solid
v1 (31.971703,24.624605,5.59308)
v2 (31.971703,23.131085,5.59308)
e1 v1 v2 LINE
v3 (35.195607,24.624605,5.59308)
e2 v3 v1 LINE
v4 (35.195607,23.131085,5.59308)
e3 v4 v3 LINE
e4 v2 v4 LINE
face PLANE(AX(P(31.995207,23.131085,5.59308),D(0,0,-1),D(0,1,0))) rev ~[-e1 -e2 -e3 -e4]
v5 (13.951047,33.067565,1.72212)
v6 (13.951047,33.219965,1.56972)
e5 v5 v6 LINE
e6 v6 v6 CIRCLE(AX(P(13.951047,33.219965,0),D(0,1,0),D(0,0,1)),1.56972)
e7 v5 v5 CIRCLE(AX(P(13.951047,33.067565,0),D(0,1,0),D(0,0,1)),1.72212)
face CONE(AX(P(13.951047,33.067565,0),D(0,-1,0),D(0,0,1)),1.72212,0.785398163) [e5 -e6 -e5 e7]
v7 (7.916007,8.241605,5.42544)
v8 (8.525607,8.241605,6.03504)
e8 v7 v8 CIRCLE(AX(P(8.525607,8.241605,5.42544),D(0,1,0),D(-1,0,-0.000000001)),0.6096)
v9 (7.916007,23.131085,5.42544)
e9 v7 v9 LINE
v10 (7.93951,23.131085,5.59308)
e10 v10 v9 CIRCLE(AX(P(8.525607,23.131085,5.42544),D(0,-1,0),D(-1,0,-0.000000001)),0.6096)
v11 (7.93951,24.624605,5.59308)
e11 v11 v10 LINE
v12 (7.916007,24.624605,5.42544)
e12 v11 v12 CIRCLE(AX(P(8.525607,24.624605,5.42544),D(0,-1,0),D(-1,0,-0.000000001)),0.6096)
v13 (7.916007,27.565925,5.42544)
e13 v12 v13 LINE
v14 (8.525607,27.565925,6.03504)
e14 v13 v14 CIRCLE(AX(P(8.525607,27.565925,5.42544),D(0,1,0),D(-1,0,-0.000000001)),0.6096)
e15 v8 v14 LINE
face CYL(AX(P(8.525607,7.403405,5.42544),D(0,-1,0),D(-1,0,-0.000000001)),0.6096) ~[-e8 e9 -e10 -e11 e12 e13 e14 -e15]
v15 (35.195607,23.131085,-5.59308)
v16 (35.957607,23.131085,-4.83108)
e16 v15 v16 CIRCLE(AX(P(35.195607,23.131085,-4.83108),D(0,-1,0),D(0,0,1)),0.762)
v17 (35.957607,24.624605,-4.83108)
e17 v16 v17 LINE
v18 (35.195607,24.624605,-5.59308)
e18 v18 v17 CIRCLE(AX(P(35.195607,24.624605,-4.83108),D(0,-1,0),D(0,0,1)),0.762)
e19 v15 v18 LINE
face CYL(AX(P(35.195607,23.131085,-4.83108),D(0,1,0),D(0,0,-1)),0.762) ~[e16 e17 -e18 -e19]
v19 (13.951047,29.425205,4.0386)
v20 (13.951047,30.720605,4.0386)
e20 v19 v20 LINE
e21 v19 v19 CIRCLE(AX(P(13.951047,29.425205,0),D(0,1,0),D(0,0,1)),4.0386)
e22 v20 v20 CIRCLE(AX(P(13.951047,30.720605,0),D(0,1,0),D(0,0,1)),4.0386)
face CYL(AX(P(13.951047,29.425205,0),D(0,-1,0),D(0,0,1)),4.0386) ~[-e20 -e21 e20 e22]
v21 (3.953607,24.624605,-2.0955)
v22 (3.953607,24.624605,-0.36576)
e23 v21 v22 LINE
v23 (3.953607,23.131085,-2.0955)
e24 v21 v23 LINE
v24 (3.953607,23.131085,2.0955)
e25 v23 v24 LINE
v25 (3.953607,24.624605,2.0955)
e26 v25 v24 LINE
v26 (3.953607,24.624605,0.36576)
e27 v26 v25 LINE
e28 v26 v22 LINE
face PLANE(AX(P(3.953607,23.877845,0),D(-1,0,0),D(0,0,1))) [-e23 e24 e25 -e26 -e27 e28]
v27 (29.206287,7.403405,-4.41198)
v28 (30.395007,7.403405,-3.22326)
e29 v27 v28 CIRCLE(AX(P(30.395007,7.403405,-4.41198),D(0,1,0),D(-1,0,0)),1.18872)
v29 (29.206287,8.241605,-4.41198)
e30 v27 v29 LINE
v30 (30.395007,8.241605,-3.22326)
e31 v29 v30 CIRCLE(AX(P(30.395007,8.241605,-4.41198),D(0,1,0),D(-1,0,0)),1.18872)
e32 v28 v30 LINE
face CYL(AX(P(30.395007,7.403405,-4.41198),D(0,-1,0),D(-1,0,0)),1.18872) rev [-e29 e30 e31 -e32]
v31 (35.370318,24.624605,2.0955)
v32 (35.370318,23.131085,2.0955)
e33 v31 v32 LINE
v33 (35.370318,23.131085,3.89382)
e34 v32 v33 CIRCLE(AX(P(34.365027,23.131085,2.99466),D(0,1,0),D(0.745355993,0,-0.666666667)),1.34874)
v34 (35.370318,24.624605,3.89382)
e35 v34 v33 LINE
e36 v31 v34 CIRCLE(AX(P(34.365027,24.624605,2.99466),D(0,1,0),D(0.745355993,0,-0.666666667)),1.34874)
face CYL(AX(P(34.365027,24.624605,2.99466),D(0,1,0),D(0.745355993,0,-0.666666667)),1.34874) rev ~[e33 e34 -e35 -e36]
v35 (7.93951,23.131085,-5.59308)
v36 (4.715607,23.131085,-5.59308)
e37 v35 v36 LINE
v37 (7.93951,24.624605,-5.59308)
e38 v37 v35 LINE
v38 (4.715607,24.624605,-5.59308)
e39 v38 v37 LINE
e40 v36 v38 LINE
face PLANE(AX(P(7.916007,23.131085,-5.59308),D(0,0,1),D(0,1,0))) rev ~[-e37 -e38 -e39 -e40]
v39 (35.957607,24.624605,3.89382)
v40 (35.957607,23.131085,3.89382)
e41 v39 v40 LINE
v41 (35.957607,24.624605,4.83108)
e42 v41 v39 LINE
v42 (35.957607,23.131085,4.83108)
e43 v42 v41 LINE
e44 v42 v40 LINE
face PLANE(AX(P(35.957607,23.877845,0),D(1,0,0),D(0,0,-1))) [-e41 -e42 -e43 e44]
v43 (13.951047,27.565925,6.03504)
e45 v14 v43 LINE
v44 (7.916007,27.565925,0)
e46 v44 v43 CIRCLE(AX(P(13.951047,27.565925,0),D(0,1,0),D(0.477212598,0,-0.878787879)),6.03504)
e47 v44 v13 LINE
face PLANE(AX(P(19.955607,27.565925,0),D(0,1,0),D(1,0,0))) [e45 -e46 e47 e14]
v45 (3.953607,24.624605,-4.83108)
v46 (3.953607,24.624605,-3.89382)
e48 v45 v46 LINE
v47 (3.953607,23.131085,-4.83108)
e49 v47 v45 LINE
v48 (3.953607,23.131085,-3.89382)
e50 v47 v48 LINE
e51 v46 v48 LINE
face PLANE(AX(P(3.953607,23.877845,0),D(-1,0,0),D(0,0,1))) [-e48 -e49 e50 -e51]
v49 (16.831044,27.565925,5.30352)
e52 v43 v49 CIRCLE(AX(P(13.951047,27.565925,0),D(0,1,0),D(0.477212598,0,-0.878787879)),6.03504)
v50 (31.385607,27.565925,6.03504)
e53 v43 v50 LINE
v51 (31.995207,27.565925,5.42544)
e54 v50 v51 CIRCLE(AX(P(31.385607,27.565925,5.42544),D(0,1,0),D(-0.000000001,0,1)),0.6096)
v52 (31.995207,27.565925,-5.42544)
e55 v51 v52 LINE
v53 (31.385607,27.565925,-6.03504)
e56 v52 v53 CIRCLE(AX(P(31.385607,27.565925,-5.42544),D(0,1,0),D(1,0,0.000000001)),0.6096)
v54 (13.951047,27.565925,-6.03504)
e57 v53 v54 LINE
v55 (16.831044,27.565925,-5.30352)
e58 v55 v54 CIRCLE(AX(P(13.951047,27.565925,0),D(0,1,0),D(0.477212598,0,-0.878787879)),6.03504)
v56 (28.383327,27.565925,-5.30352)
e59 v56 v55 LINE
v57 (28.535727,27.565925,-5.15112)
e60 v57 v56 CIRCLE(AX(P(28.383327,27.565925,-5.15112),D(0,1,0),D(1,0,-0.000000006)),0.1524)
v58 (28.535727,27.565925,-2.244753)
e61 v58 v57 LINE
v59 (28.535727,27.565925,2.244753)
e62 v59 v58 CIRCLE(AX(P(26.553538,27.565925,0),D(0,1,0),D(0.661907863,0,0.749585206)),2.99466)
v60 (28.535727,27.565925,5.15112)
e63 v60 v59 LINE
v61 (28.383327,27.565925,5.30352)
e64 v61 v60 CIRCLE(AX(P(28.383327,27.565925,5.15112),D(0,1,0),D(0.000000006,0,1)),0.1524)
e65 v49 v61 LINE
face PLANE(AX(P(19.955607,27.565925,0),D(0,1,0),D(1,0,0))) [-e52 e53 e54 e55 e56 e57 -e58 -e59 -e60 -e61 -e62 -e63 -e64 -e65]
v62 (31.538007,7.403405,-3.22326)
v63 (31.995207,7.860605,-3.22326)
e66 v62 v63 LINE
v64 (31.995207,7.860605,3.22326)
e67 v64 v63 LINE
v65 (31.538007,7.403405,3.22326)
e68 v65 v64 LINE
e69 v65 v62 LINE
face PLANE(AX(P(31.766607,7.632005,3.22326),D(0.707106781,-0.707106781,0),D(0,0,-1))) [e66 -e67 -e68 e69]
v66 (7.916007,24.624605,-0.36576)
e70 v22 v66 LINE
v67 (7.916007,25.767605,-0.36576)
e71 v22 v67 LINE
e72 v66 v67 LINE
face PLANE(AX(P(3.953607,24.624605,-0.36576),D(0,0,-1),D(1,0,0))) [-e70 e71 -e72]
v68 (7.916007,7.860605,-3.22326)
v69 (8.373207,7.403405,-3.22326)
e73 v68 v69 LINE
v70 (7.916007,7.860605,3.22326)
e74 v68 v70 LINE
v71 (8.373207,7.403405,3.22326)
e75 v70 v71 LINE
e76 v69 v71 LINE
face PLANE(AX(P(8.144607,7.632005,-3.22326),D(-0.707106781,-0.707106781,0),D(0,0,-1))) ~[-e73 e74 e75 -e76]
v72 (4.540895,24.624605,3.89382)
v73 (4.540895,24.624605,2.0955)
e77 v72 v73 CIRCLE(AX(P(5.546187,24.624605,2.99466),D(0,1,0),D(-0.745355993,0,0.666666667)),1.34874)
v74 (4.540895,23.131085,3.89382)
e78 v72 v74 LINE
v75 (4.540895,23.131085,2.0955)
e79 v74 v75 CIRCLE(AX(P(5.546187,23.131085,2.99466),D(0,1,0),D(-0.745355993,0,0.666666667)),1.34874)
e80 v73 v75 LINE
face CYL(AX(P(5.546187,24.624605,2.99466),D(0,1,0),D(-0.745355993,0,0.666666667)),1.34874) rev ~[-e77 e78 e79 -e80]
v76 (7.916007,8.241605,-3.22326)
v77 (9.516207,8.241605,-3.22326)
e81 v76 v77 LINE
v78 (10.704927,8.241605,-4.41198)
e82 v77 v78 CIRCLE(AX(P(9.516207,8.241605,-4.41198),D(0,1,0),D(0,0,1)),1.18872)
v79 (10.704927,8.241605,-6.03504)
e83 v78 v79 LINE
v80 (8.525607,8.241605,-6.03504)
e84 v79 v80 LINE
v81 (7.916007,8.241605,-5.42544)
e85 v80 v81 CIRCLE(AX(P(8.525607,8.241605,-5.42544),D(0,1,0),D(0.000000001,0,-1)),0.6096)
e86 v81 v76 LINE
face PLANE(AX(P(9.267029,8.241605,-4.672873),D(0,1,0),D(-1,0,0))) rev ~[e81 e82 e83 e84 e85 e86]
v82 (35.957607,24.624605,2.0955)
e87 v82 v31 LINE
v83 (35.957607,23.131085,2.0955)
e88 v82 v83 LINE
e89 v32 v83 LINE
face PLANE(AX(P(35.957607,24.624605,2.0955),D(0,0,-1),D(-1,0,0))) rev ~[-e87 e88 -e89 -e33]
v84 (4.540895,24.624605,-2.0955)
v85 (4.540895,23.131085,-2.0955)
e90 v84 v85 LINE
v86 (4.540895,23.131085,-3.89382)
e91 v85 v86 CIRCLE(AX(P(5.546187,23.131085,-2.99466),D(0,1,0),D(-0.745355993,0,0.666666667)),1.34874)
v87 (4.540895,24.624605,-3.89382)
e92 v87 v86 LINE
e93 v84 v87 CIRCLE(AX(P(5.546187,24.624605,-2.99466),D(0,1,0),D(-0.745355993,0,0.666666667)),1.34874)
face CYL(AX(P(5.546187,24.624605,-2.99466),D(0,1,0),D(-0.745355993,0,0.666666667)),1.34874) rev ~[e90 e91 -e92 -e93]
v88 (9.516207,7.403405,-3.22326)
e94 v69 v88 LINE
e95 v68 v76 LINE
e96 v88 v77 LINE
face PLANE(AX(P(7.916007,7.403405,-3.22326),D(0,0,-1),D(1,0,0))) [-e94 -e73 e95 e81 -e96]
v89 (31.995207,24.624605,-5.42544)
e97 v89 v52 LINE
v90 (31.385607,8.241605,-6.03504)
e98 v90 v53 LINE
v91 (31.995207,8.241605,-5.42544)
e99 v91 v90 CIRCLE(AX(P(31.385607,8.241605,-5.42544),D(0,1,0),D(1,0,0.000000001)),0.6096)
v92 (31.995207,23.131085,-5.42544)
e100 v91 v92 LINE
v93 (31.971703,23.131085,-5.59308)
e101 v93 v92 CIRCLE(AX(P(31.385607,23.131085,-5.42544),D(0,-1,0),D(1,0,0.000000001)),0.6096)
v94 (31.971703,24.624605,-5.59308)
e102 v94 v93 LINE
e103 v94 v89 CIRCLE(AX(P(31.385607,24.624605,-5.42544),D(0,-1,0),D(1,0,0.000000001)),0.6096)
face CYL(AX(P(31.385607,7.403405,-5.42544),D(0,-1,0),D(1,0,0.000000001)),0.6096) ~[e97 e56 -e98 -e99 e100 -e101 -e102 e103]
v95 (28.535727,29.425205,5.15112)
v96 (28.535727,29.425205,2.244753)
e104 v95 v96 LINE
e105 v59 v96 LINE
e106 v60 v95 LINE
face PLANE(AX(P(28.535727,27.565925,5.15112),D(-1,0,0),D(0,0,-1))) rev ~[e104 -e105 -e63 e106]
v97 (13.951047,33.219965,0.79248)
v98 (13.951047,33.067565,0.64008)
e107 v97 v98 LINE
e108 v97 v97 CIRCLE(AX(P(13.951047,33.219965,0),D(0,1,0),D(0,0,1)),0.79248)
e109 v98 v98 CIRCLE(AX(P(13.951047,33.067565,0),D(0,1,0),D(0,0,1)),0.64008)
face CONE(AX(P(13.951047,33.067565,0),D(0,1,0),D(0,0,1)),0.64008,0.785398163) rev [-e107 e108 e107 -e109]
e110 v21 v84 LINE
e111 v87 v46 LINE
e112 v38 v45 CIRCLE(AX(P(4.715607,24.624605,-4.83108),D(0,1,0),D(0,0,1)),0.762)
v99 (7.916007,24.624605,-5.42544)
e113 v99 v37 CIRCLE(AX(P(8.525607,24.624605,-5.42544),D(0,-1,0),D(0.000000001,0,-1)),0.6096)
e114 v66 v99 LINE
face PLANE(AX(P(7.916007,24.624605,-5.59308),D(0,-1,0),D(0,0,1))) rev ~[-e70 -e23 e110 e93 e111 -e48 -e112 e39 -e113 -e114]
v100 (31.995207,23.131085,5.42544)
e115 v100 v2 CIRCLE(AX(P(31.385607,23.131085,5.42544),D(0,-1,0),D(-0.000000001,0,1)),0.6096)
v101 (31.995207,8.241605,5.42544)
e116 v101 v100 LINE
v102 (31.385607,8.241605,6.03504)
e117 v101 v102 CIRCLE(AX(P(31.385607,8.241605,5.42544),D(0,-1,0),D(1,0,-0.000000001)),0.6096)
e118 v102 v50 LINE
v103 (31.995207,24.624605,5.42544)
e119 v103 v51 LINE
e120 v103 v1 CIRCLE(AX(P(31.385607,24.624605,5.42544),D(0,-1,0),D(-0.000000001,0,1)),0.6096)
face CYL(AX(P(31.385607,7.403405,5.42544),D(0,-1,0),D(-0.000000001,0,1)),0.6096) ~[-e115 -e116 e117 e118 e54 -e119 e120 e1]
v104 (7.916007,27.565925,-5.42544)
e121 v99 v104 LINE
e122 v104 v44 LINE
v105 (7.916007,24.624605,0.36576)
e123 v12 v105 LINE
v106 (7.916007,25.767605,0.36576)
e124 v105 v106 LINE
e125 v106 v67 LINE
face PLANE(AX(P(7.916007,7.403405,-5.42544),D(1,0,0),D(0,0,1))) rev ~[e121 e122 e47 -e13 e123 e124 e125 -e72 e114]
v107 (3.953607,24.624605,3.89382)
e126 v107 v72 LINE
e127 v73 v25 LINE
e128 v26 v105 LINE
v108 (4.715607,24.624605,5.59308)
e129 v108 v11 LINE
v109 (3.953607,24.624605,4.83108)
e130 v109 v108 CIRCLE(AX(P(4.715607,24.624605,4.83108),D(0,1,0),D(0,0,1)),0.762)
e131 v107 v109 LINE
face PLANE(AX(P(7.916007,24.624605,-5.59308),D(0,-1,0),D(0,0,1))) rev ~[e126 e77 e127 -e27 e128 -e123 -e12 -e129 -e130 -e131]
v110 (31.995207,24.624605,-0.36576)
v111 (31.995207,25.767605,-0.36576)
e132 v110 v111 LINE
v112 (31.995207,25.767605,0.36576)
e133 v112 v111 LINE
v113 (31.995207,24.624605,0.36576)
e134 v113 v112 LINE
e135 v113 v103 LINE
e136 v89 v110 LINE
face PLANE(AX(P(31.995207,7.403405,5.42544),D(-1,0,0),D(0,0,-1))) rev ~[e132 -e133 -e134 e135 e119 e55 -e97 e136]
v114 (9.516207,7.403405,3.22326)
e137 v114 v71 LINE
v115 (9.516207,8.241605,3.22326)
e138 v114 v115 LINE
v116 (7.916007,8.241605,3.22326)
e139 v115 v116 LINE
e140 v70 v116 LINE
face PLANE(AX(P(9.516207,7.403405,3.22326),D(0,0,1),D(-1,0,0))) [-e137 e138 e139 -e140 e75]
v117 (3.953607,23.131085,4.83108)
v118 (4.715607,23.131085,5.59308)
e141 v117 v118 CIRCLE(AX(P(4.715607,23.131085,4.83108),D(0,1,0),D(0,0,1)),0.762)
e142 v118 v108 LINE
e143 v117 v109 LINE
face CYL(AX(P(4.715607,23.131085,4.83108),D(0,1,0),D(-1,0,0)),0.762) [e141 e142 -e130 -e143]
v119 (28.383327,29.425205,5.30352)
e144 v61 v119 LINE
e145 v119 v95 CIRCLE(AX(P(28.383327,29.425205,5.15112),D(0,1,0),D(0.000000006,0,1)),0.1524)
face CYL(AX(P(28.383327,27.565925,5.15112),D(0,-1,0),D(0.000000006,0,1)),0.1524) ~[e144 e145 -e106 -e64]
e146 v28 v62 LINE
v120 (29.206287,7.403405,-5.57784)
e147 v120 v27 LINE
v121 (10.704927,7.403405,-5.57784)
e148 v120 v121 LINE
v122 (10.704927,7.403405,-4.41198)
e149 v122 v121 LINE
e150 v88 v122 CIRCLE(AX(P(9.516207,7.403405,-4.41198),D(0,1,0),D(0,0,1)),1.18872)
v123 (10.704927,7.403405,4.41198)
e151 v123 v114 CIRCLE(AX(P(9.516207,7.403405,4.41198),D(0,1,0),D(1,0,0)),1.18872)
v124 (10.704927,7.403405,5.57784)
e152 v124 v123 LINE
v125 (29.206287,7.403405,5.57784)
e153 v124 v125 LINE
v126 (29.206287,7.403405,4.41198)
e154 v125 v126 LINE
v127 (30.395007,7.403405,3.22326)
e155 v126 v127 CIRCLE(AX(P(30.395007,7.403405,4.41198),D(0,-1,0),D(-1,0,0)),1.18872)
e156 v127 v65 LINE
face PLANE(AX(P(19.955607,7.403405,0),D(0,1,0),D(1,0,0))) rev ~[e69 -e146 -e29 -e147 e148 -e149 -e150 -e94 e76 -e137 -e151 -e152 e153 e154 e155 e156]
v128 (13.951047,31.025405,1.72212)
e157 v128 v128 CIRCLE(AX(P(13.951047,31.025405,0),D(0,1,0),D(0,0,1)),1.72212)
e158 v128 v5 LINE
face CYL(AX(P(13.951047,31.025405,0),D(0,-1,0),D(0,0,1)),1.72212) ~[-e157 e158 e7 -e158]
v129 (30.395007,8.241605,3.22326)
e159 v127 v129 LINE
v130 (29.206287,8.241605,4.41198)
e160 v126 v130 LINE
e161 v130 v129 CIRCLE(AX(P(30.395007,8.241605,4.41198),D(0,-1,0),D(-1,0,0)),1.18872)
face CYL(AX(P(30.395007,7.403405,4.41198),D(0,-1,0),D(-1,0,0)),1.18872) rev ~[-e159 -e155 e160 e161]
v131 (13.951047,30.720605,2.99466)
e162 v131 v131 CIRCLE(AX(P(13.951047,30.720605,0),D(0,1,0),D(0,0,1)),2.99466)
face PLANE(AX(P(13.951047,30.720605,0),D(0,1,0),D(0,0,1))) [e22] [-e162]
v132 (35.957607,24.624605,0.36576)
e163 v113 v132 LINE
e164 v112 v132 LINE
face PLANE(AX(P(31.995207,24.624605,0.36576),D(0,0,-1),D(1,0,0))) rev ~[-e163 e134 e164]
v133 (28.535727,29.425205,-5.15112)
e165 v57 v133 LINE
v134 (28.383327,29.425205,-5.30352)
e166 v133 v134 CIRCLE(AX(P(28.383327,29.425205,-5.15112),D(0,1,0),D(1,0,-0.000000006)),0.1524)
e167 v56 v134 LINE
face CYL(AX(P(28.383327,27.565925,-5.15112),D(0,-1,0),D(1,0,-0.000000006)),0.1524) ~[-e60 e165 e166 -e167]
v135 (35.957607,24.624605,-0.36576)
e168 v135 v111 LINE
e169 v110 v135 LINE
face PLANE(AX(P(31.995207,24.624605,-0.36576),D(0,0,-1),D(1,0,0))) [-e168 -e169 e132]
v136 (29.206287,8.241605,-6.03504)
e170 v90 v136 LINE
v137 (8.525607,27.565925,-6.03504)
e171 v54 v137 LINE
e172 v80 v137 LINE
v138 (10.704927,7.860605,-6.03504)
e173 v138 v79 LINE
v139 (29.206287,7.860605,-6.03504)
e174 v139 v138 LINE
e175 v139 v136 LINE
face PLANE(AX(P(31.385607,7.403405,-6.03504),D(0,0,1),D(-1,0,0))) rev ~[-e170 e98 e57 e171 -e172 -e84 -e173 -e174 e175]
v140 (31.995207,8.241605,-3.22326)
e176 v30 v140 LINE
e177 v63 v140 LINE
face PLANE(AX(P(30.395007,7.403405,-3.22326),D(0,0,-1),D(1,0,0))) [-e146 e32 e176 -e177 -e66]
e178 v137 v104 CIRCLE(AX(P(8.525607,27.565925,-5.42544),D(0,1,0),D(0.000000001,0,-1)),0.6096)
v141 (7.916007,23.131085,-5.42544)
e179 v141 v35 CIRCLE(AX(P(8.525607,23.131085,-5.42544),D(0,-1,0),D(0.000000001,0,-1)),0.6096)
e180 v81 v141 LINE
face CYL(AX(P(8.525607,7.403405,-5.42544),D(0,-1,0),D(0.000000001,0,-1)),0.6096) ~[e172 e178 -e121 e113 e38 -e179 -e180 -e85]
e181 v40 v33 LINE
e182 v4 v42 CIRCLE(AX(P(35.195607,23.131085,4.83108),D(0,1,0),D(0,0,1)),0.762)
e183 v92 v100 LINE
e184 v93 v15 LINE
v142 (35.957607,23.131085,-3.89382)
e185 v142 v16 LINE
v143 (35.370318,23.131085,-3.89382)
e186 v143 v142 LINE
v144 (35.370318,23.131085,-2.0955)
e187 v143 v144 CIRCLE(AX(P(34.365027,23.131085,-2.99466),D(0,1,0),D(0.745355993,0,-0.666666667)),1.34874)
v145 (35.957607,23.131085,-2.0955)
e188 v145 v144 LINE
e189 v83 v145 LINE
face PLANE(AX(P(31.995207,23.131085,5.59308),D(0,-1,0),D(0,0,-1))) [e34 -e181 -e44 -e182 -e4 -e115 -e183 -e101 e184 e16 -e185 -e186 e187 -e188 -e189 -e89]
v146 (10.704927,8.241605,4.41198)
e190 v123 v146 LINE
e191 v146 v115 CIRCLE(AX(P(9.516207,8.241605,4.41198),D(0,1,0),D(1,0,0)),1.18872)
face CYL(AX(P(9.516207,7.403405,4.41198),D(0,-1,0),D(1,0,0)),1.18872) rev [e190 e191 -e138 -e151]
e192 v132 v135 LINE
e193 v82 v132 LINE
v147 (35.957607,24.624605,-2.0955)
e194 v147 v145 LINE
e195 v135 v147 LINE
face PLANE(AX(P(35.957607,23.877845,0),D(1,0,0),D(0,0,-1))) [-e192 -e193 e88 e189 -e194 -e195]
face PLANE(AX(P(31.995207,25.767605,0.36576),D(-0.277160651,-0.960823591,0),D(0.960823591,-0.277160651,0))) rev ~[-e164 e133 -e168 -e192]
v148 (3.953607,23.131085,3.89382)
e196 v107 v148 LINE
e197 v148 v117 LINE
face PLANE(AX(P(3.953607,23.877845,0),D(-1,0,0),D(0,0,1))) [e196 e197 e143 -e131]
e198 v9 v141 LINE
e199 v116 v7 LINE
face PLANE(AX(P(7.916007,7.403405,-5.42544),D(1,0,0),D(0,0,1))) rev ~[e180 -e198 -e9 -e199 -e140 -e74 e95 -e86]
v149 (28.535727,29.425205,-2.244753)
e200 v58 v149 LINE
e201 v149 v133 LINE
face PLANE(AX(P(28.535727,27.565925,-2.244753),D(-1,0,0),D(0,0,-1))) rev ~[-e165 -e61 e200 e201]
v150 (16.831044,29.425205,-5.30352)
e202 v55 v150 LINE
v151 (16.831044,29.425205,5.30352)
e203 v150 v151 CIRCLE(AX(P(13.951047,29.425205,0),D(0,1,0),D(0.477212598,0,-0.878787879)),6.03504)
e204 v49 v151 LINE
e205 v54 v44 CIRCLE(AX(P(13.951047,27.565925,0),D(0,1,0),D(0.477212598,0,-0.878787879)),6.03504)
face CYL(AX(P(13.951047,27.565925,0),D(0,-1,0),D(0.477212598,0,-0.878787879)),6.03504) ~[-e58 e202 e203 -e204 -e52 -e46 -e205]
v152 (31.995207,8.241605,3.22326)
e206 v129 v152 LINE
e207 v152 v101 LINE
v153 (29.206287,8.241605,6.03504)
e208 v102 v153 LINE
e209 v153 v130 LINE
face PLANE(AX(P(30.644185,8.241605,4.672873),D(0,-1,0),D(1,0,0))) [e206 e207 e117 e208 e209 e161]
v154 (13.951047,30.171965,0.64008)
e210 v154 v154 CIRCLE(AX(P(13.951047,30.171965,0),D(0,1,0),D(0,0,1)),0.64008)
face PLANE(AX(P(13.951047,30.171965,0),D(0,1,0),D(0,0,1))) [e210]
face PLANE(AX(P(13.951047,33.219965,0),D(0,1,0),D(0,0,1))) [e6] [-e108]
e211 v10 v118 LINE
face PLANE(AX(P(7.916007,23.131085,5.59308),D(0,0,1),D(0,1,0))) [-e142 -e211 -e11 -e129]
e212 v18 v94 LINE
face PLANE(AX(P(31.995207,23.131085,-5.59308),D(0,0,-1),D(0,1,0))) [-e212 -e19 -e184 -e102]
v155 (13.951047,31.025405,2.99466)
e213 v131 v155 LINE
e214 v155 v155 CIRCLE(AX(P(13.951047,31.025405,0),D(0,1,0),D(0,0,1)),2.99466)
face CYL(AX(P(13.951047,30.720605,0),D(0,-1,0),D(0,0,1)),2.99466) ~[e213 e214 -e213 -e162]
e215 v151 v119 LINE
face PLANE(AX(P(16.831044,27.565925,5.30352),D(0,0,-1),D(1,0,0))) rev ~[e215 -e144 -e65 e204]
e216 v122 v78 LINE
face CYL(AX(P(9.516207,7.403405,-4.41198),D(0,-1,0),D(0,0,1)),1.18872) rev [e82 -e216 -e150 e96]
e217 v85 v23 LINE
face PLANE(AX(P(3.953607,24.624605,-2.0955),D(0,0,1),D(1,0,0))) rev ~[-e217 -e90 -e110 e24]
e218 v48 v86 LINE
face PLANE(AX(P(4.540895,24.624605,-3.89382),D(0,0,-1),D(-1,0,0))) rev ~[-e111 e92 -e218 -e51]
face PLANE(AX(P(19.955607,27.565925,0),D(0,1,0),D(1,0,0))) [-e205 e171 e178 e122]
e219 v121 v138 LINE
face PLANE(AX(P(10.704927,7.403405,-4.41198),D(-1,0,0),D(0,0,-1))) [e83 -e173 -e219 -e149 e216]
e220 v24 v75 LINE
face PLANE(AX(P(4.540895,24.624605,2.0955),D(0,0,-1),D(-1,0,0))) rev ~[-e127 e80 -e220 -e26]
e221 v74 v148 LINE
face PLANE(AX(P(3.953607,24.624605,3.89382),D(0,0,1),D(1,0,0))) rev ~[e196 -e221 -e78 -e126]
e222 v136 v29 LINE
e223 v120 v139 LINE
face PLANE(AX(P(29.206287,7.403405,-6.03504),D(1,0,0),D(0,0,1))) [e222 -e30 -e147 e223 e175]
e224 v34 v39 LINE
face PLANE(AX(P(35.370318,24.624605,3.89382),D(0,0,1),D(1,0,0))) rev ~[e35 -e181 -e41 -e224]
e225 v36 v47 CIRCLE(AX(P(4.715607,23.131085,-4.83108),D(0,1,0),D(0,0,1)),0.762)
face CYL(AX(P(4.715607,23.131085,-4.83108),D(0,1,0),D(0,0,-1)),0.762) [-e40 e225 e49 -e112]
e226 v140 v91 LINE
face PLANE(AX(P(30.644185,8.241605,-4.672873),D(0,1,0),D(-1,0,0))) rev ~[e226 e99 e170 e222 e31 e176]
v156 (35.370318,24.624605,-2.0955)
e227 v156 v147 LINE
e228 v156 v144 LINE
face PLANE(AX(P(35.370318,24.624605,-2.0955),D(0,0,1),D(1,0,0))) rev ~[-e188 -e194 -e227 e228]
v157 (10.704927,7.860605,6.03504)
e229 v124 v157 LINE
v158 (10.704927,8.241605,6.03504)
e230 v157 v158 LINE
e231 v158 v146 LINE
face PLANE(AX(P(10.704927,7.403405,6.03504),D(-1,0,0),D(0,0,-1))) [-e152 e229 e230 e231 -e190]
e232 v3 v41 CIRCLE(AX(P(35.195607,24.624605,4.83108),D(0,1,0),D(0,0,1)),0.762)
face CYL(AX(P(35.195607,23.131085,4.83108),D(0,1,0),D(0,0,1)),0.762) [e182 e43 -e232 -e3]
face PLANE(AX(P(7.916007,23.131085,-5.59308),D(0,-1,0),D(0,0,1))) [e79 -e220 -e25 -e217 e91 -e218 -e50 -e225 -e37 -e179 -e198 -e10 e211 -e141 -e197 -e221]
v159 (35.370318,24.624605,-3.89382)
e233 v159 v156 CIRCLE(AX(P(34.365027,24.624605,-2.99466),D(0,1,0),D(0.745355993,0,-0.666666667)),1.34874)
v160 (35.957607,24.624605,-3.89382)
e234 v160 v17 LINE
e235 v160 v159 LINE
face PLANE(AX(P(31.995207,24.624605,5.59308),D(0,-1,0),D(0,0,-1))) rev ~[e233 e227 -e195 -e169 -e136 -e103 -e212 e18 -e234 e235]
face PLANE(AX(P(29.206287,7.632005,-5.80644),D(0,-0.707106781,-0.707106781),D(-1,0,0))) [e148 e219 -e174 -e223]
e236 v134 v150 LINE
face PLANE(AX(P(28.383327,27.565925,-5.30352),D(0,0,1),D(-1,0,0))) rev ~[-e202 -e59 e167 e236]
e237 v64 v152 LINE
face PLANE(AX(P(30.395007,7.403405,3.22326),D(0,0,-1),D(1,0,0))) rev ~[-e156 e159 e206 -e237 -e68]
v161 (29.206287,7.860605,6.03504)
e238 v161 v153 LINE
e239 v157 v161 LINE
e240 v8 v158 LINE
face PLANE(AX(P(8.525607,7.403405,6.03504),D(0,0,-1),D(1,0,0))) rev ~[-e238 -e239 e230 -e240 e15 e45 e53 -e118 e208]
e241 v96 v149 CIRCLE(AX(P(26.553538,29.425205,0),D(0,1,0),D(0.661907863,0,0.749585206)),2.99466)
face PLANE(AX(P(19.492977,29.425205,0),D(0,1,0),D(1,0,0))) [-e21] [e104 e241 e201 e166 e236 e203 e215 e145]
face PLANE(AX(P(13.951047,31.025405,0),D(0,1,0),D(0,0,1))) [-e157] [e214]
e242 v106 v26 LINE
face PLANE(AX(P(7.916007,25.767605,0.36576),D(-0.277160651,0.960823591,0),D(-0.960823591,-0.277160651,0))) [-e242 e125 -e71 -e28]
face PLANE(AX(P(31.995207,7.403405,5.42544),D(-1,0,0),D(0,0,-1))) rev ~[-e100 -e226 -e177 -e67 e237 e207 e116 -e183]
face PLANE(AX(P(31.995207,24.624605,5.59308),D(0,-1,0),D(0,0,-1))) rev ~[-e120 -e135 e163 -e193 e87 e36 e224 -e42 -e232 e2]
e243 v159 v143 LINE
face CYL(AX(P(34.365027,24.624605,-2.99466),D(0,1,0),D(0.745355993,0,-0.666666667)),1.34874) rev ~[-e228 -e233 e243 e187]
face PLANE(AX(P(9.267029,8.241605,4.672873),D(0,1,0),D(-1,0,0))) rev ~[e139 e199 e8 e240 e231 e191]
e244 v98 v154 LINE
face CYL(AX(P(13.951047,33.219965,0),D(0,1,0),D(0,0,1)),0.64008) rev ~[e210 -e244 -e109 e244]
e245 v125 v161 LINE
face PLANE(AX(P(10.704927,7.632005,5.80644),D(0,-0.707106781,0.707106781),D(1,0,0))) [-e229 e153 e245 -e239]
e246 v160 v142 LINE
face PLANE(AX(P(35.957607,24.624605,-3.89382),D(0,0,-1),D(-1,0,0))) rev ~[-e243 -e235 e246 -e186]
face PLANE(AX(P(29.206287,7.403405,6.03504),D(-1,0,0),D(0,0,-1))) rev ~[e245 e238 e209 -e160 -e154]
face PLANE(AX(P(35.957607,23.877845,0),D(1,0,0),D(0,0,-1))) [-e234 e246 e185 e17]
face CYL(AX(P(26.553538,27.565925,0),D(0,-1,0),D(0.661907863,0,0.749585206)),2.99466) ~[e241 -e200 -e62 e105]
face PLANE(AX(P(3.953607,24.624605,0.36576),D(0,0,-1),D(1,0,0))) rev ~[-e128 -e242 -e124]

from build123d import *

# Parameters (mm, degrees)
BOSS_EXTRUDE1_DEPTH = 33.6042
CUT_EXTRUDE1_DEPTH  = 1.397
CHAMFER1_SIZE       = 0.762
SKETCH3_W           = 18.6436
SKETCH3_H           = 2.4892
BOSS_EXTRUDE2_DEPTH = 6.604
SKETCH4_W           = 18.6436
SKETCH4_H           = 2.4892
BOSS_EXTRUDE3_DEPTH = 6.604
FILLET1_R           = 1.27
CUT_EXTRUDE2_DEPTH  = 3.048
SKETCH6_W           = 6.604
SKETCH6_H           = 1.2192
BOSS_EXTRUDE4_DEPTH = 1.905
CUT_EXTRUDE3_DEPTH  = 1.905
BOSS_EXTRUDE5_DEPTH = 3.0988
SKETCH9_R           = 6.731
BOSS_EXTRUDE6_DEPTH = 2.159
SKETCH10_R          = 4.9911
BOSS_EXTRUDE7_DEPTH = 0.508
SKETCH11_R          = 2.8702
BOSS_EXTRUDE8_DEPTH = 3.6576
SKETCH12_R          = 1.0668
CUT_EXTRUDE4_DEPTH  = 5.08
CHAMFER2_SIZE       = 0.254
SCALE1_SCALE        = 0.6


with BuildPart() as part:
    # Sketch1 → Boss-Extrude1 (new body)
    with BuildSketch(Plane(origin=(0, 0, 0), x_dir=(1, 0, 0), z_dir=(0, 1, 0))):
        with BuildLine():
            Line((0, 9.0424), (0, -9.0424))
            ThreePointArc((0, -9.0424), (0.29757951, -9.76082049), (1.016, -10.0584))
            Line((1.016, -10.0584), (39.116, -10.0584))
            ThreePointArc((39.116, -10.0584), (39.83442049, -9.76082049), (40.132, -9.0424))
            Line((40.132, -9.0424), (40.132, 9.0424))
            ThreePointArc((40.132, 9.0424), (39.83442049, 9.76082049), (39.116, 10.0584))
            Line((39.116, 10.0584), (1.016, 10.0584))
            ThreePointArc((1.016, 10.0584), (0.29757951, 9.76082049), (0, 9.0424))
        make_face()
    extrude(amount=BOSS_EXTRUDE1_DEPTH)

    # Sketch2 → Cut-Extrude1 (cut)
    with BuildSketch(Plane.XZ):
        with BuildLine():
            Line((4.6482, 10.0584), (4.6482, 7.3533))
            ThreePointArc((4.6482, 7.3533), (4.067919955, 5.952380045), (2.667, 5.3721))
            Line((2.667, 5.3721), (0, 5.3721))
            Line((0, 5.3721), (0, 9.0424))
            ThreePointArc((0, 9.0424), (0.29757951, 9.76082049), (1.016, 10.0584))
            Line((1.016, 10.0584), (4.6482, 10.0584))
        make_face()
        with BuildLine():
            Line((35.4838, 10.0584), (35.4838, 7.3533))
            ThreePointArc((35.4838, 7.3533), (36.064080045, 5.952380045), (37.465, 5.3721))
            Line((37.465, 5.3721), (40.132, 5.3721))
            Line((40.132, 5.3721), (40.132, 9.0424))
            ThreePointArc((40.132, 9.0424), (39.83442049, 9.76082049), (39.116, 10.0584))
            Line((39.116, 10.0584), (35.4838, 10.0584))
        make_face()
        with BuildLine():
            Line((0, -5.3721), (2.667, -5.3721))
            ThreePointArc((2.667, -5.3721), (4.067919955, -5.952380045), (4.6482, -7.3533))
            Line((4.6482, -7.3533), (4.6482, -10.0584))
            Line((4.6482, -10.0584), (1.016, -10.0584))
            ThreePointArc((1.016, -10.0584), (0.29757951, -9.76082049), (0, -9.0424))
            Line((0, -9.0424), (0, -5.3721))
        make_face()
        with BuildLine():
            Line((37.465, -5.3721), (40.132, -5.3721))
            Line((40.132, -5.3721), (40.132, -9.0424))
            ThreePointArc((40.132, -9.0424), (39.83442049, -9.76082049), (39.116, -10.0584))
            Line((39.116, -10.0584), (35.4838, -10.0584))
            Line((35.4838, -10.0584), (35.4838, -7.3533))
            ThreePointArc((35.4838, -7.3533), (36.064080045, -5.952380045), (37.465, -5.3721))
        make_face()
    extrude(amount=-CUT_EXTRUDE1_DEPTH, mode=Mode.SUBTRACT)

    # Chamfer1
    chamfer1_edges = [part.edges().sort_by_distance(p)[0] for p in [
        (20.066, 0, 10.0584),
        (0, 0, 0),
        (40.132, 0, 0),
        (20.066, 0, -10.0584),
    ]]
    chamfer(chamfer1_edges, length=CHAMFER1_SIZE)

    # Sketch3 → Boss-Extrude2 (add, symmetric)
    with BuildSketch(Plane(origin=(40.132, 0, 0), x_dir=(0, 0, -1), z_dir=(1, 0, 0))):
        with Locations((0, 27.4574)):
            Rectangle(SKETCH3_W, SKETCH3_H)
    extrude(amount=BOSS_EXTRUDE2_DEPTH, both=True)

    # Sketch4 → Boss-Extrude3 (add, symmetric)
    with BuildSketch(Plane.ZY):
        with Locations((0, 27.4574)):
            Rectangle(SKETCH4_W, SKETCH4_H)
    extrude(amount=BOSS_EXTRUDE3_DEPTH, both=True)

    # Fillet1
    fillet1_edges = [part.edges().sort_by_distance(p)[0] for p in [
        (46.736, 27.4574, 9.3218),
        (46.736, 27.4574, -9.3218),
        (-6.604, 27.4574, -9.3218),
        (-6.604, 27.4574, 9.3218),
    ]]
    fillet(fillet1_edges, radius=FILLET1_R)

    # Sketch5 → Cut-Extrude2 (cut)
    with BuildSketch(Plane(origin=(0, 28.702, 0), x_dir=(1, 0, 0), z_dir=(0, 1, 0))):
        with BuildLine():
            Line((-6.604, 3.4925), (-5.625185736, 3.4925))
            ThreePointArc((-5.625185736, 3.4925), (-1.7018, 4.9911), (-5.625185736, 6.4897))
            Line((-5.625185736, 6.4897), (-6.604, 6.4897))
            Line((-6.604, 6.4897), (-6.604, 3.4925))
        make_face()
        with BuildLine():
            Line((-6.604, -6.4897), (-5.625185736, -6.4897))
            ThreePointArc((-5.625185736, -6.4897), (-1.7018, -4.9911), (-5.625185736, -3.4925))
            Line((-5.625185736, -3.4925), (-6.604, -3.4925))
            Line((-6.604, -3.4925), (-6.604, -6.4897))
        make_face()
        with BuildLine():
            Line((45.757185736, -6.4897), (46.736, -6.4897))
            Line((46.736, -6.4897), (46.736, -3.4925))
            Line((46.736, -3.4925), (45.757185736, -3.4925))
            ThreePointArc((45.757185736, -3.4925), (41.8338, -4.9911), (45.757185736, -6.4897))
        make_face()
        with BuildLine():
            Line((45.757185736, 3.4925), (46.736, 3.4925))
            Line((46.736, 3.4925), (46.736, 6.4897))
            Line((46.736, 6.4897), (45.757185736, 6.4897))
            ThreePointArc((45.757185736, 6.4897), (41.8338, 4.9911), (45.757185736, 3.4925))
        make_face()
    extrude(amount=-CUT_EXTRUDE2_DEPTH, mode=Mode.SUBTRACT)

    # Sketch6 → Boss-Extrude4 (add)
    with BuildSketch(Plane(origin=(0, 28.702, 0), x_dir=(1, 0, 0), z_dir=(0, 1, 0))):
        with Locations((-3.302, 0)):
            Rectangle(SKETCH6_W, SKETCH6_H)
        with Locations((43.434, 0)):
            Rectangle(SKETCH6_W, SKETCH6_H)
    extrude(amount=BOSS_EXTRUDE4_DEPTH)

    # Sketch7 → Cut-Extrude3 (cut)
    with BuildSketch(Plane.XY.offset(0.6096)):
        Polygon((40.132, 30.607), (46.736, 28.702), (46.736, 30.607), align=None)
        Polygon((0, 30.607), (-6.604, 28.702), (-6.604, 30.607), align=None)
    extrude(amount=-CUT_EXTRUDE3_DEPTH, mode=Mode.SUBTRACT)

    # Sketch8 → Boss-Extrude5 (add)
    with BuildSketch(Plane(origin=(0, 33.6042, 0), x_dir=(1, 0, 0), z_dir=(0, 1, 0))):
        with BuildLine():
            Line((14.8583952, -8.8392), (34.1122, -8.8392))
            ThreePointArc((34.1122, -8.8392), (34.291805122, -8.764805122), (34.3662, -8.5852))
            Line((34.3662, -8.5852), (34.3662, -3.741254719))
            ThreePointArc((34.3662, -3.741254719), (36.053651663, 0), (34.3662, 3.741254719))
            Line((34.3662, 3.741254719), (34.3662, 8.5852))
            ThreePointArc((34.3662, 8.5852), (34.291805122, 8.764805122), (34.1122, 8.8392))
            Line((34.1122, 8.8392), (14.8583952, 8.8392))
            ThreePointArc((14.8583952, 8.8392), (0, 0), (14.8583952, -8.8392))
        make_face()
    extrude(amount=BOSS_EXTRUDE5_DEPTH)

    # Sketch9 → Boss-Extrude6 (add)
    with BuildSketch(Plane(origin=(0, 36.703, 0), x_dir=(1, 0, 0), z_dir=(0, 1, 0))):
        with Locations(Location((10.0584, 0, 0), (0, 0, 270))):
            Circle(SKETCH9_R)
    extrude(amount=BOSS_EXTRUDE6_DEPTH)

    # Sketch10 → Boss-Extrude7 (add)
    with BuildSketch(Plane(origin=(0, 38.862, 0), x_dir=(1, 0, 0), z_dir=(0, 1, 0))):
        with Locations(Location((10.0584, 0, 0), (0, 0, 270))):
            Circle(SKETCH10_R)
    extrude(amount=BOSS_EXTRUDE7_DEPTH)

    # Sketch11 → Boss-Extrude8 (add)
    with BuildSketch(Plane(origin=(0, 39.37, 0), x_dir=(1, 0, 0), z_dir=(0, 1, 0))):
        with Locations(Location((10.0584, 0, 0), (0, 0, 270))):
            Circle(SKETCH11_R)
    extrude(amount=BOSS_EXTRUDE8_DEPTH)

    # Sketch12 → Cut-Extrude4 (cut)
    with BuildSketch(Plane(origin=(0, 43.0276, 0), x_dir=(1, 0, 0), z_dir=(0, 1, 0))):
        with Locations(Location((10.0584, 0, 0), (0, 0, 270))):
            Circle(SKETCH12_R)
    extrude(amount=-CUT_EXTRUDE4_DEPTH, mode=Mode.SUBTRACT)

    # Chamfer2
    chamfer2_edges = [part.edges().sort_by_distance(p)[0] for p in [
        (10.0584, 43.0276, -2.8702),
        (10.0584, 43.0276, -1.0668),
    ]]
    chamfer(chamfer2_edges, length=CHAMFER2_SIZE)


with BuildPart() as part_1:
    # Scale1: scaled about (19.790017038, 18.508512474, 0)
    add(part.part.scale(SCALE1_SCALE).moved(Location((7.916006815, 7.40340499, 0))))


solid = part_1.part
